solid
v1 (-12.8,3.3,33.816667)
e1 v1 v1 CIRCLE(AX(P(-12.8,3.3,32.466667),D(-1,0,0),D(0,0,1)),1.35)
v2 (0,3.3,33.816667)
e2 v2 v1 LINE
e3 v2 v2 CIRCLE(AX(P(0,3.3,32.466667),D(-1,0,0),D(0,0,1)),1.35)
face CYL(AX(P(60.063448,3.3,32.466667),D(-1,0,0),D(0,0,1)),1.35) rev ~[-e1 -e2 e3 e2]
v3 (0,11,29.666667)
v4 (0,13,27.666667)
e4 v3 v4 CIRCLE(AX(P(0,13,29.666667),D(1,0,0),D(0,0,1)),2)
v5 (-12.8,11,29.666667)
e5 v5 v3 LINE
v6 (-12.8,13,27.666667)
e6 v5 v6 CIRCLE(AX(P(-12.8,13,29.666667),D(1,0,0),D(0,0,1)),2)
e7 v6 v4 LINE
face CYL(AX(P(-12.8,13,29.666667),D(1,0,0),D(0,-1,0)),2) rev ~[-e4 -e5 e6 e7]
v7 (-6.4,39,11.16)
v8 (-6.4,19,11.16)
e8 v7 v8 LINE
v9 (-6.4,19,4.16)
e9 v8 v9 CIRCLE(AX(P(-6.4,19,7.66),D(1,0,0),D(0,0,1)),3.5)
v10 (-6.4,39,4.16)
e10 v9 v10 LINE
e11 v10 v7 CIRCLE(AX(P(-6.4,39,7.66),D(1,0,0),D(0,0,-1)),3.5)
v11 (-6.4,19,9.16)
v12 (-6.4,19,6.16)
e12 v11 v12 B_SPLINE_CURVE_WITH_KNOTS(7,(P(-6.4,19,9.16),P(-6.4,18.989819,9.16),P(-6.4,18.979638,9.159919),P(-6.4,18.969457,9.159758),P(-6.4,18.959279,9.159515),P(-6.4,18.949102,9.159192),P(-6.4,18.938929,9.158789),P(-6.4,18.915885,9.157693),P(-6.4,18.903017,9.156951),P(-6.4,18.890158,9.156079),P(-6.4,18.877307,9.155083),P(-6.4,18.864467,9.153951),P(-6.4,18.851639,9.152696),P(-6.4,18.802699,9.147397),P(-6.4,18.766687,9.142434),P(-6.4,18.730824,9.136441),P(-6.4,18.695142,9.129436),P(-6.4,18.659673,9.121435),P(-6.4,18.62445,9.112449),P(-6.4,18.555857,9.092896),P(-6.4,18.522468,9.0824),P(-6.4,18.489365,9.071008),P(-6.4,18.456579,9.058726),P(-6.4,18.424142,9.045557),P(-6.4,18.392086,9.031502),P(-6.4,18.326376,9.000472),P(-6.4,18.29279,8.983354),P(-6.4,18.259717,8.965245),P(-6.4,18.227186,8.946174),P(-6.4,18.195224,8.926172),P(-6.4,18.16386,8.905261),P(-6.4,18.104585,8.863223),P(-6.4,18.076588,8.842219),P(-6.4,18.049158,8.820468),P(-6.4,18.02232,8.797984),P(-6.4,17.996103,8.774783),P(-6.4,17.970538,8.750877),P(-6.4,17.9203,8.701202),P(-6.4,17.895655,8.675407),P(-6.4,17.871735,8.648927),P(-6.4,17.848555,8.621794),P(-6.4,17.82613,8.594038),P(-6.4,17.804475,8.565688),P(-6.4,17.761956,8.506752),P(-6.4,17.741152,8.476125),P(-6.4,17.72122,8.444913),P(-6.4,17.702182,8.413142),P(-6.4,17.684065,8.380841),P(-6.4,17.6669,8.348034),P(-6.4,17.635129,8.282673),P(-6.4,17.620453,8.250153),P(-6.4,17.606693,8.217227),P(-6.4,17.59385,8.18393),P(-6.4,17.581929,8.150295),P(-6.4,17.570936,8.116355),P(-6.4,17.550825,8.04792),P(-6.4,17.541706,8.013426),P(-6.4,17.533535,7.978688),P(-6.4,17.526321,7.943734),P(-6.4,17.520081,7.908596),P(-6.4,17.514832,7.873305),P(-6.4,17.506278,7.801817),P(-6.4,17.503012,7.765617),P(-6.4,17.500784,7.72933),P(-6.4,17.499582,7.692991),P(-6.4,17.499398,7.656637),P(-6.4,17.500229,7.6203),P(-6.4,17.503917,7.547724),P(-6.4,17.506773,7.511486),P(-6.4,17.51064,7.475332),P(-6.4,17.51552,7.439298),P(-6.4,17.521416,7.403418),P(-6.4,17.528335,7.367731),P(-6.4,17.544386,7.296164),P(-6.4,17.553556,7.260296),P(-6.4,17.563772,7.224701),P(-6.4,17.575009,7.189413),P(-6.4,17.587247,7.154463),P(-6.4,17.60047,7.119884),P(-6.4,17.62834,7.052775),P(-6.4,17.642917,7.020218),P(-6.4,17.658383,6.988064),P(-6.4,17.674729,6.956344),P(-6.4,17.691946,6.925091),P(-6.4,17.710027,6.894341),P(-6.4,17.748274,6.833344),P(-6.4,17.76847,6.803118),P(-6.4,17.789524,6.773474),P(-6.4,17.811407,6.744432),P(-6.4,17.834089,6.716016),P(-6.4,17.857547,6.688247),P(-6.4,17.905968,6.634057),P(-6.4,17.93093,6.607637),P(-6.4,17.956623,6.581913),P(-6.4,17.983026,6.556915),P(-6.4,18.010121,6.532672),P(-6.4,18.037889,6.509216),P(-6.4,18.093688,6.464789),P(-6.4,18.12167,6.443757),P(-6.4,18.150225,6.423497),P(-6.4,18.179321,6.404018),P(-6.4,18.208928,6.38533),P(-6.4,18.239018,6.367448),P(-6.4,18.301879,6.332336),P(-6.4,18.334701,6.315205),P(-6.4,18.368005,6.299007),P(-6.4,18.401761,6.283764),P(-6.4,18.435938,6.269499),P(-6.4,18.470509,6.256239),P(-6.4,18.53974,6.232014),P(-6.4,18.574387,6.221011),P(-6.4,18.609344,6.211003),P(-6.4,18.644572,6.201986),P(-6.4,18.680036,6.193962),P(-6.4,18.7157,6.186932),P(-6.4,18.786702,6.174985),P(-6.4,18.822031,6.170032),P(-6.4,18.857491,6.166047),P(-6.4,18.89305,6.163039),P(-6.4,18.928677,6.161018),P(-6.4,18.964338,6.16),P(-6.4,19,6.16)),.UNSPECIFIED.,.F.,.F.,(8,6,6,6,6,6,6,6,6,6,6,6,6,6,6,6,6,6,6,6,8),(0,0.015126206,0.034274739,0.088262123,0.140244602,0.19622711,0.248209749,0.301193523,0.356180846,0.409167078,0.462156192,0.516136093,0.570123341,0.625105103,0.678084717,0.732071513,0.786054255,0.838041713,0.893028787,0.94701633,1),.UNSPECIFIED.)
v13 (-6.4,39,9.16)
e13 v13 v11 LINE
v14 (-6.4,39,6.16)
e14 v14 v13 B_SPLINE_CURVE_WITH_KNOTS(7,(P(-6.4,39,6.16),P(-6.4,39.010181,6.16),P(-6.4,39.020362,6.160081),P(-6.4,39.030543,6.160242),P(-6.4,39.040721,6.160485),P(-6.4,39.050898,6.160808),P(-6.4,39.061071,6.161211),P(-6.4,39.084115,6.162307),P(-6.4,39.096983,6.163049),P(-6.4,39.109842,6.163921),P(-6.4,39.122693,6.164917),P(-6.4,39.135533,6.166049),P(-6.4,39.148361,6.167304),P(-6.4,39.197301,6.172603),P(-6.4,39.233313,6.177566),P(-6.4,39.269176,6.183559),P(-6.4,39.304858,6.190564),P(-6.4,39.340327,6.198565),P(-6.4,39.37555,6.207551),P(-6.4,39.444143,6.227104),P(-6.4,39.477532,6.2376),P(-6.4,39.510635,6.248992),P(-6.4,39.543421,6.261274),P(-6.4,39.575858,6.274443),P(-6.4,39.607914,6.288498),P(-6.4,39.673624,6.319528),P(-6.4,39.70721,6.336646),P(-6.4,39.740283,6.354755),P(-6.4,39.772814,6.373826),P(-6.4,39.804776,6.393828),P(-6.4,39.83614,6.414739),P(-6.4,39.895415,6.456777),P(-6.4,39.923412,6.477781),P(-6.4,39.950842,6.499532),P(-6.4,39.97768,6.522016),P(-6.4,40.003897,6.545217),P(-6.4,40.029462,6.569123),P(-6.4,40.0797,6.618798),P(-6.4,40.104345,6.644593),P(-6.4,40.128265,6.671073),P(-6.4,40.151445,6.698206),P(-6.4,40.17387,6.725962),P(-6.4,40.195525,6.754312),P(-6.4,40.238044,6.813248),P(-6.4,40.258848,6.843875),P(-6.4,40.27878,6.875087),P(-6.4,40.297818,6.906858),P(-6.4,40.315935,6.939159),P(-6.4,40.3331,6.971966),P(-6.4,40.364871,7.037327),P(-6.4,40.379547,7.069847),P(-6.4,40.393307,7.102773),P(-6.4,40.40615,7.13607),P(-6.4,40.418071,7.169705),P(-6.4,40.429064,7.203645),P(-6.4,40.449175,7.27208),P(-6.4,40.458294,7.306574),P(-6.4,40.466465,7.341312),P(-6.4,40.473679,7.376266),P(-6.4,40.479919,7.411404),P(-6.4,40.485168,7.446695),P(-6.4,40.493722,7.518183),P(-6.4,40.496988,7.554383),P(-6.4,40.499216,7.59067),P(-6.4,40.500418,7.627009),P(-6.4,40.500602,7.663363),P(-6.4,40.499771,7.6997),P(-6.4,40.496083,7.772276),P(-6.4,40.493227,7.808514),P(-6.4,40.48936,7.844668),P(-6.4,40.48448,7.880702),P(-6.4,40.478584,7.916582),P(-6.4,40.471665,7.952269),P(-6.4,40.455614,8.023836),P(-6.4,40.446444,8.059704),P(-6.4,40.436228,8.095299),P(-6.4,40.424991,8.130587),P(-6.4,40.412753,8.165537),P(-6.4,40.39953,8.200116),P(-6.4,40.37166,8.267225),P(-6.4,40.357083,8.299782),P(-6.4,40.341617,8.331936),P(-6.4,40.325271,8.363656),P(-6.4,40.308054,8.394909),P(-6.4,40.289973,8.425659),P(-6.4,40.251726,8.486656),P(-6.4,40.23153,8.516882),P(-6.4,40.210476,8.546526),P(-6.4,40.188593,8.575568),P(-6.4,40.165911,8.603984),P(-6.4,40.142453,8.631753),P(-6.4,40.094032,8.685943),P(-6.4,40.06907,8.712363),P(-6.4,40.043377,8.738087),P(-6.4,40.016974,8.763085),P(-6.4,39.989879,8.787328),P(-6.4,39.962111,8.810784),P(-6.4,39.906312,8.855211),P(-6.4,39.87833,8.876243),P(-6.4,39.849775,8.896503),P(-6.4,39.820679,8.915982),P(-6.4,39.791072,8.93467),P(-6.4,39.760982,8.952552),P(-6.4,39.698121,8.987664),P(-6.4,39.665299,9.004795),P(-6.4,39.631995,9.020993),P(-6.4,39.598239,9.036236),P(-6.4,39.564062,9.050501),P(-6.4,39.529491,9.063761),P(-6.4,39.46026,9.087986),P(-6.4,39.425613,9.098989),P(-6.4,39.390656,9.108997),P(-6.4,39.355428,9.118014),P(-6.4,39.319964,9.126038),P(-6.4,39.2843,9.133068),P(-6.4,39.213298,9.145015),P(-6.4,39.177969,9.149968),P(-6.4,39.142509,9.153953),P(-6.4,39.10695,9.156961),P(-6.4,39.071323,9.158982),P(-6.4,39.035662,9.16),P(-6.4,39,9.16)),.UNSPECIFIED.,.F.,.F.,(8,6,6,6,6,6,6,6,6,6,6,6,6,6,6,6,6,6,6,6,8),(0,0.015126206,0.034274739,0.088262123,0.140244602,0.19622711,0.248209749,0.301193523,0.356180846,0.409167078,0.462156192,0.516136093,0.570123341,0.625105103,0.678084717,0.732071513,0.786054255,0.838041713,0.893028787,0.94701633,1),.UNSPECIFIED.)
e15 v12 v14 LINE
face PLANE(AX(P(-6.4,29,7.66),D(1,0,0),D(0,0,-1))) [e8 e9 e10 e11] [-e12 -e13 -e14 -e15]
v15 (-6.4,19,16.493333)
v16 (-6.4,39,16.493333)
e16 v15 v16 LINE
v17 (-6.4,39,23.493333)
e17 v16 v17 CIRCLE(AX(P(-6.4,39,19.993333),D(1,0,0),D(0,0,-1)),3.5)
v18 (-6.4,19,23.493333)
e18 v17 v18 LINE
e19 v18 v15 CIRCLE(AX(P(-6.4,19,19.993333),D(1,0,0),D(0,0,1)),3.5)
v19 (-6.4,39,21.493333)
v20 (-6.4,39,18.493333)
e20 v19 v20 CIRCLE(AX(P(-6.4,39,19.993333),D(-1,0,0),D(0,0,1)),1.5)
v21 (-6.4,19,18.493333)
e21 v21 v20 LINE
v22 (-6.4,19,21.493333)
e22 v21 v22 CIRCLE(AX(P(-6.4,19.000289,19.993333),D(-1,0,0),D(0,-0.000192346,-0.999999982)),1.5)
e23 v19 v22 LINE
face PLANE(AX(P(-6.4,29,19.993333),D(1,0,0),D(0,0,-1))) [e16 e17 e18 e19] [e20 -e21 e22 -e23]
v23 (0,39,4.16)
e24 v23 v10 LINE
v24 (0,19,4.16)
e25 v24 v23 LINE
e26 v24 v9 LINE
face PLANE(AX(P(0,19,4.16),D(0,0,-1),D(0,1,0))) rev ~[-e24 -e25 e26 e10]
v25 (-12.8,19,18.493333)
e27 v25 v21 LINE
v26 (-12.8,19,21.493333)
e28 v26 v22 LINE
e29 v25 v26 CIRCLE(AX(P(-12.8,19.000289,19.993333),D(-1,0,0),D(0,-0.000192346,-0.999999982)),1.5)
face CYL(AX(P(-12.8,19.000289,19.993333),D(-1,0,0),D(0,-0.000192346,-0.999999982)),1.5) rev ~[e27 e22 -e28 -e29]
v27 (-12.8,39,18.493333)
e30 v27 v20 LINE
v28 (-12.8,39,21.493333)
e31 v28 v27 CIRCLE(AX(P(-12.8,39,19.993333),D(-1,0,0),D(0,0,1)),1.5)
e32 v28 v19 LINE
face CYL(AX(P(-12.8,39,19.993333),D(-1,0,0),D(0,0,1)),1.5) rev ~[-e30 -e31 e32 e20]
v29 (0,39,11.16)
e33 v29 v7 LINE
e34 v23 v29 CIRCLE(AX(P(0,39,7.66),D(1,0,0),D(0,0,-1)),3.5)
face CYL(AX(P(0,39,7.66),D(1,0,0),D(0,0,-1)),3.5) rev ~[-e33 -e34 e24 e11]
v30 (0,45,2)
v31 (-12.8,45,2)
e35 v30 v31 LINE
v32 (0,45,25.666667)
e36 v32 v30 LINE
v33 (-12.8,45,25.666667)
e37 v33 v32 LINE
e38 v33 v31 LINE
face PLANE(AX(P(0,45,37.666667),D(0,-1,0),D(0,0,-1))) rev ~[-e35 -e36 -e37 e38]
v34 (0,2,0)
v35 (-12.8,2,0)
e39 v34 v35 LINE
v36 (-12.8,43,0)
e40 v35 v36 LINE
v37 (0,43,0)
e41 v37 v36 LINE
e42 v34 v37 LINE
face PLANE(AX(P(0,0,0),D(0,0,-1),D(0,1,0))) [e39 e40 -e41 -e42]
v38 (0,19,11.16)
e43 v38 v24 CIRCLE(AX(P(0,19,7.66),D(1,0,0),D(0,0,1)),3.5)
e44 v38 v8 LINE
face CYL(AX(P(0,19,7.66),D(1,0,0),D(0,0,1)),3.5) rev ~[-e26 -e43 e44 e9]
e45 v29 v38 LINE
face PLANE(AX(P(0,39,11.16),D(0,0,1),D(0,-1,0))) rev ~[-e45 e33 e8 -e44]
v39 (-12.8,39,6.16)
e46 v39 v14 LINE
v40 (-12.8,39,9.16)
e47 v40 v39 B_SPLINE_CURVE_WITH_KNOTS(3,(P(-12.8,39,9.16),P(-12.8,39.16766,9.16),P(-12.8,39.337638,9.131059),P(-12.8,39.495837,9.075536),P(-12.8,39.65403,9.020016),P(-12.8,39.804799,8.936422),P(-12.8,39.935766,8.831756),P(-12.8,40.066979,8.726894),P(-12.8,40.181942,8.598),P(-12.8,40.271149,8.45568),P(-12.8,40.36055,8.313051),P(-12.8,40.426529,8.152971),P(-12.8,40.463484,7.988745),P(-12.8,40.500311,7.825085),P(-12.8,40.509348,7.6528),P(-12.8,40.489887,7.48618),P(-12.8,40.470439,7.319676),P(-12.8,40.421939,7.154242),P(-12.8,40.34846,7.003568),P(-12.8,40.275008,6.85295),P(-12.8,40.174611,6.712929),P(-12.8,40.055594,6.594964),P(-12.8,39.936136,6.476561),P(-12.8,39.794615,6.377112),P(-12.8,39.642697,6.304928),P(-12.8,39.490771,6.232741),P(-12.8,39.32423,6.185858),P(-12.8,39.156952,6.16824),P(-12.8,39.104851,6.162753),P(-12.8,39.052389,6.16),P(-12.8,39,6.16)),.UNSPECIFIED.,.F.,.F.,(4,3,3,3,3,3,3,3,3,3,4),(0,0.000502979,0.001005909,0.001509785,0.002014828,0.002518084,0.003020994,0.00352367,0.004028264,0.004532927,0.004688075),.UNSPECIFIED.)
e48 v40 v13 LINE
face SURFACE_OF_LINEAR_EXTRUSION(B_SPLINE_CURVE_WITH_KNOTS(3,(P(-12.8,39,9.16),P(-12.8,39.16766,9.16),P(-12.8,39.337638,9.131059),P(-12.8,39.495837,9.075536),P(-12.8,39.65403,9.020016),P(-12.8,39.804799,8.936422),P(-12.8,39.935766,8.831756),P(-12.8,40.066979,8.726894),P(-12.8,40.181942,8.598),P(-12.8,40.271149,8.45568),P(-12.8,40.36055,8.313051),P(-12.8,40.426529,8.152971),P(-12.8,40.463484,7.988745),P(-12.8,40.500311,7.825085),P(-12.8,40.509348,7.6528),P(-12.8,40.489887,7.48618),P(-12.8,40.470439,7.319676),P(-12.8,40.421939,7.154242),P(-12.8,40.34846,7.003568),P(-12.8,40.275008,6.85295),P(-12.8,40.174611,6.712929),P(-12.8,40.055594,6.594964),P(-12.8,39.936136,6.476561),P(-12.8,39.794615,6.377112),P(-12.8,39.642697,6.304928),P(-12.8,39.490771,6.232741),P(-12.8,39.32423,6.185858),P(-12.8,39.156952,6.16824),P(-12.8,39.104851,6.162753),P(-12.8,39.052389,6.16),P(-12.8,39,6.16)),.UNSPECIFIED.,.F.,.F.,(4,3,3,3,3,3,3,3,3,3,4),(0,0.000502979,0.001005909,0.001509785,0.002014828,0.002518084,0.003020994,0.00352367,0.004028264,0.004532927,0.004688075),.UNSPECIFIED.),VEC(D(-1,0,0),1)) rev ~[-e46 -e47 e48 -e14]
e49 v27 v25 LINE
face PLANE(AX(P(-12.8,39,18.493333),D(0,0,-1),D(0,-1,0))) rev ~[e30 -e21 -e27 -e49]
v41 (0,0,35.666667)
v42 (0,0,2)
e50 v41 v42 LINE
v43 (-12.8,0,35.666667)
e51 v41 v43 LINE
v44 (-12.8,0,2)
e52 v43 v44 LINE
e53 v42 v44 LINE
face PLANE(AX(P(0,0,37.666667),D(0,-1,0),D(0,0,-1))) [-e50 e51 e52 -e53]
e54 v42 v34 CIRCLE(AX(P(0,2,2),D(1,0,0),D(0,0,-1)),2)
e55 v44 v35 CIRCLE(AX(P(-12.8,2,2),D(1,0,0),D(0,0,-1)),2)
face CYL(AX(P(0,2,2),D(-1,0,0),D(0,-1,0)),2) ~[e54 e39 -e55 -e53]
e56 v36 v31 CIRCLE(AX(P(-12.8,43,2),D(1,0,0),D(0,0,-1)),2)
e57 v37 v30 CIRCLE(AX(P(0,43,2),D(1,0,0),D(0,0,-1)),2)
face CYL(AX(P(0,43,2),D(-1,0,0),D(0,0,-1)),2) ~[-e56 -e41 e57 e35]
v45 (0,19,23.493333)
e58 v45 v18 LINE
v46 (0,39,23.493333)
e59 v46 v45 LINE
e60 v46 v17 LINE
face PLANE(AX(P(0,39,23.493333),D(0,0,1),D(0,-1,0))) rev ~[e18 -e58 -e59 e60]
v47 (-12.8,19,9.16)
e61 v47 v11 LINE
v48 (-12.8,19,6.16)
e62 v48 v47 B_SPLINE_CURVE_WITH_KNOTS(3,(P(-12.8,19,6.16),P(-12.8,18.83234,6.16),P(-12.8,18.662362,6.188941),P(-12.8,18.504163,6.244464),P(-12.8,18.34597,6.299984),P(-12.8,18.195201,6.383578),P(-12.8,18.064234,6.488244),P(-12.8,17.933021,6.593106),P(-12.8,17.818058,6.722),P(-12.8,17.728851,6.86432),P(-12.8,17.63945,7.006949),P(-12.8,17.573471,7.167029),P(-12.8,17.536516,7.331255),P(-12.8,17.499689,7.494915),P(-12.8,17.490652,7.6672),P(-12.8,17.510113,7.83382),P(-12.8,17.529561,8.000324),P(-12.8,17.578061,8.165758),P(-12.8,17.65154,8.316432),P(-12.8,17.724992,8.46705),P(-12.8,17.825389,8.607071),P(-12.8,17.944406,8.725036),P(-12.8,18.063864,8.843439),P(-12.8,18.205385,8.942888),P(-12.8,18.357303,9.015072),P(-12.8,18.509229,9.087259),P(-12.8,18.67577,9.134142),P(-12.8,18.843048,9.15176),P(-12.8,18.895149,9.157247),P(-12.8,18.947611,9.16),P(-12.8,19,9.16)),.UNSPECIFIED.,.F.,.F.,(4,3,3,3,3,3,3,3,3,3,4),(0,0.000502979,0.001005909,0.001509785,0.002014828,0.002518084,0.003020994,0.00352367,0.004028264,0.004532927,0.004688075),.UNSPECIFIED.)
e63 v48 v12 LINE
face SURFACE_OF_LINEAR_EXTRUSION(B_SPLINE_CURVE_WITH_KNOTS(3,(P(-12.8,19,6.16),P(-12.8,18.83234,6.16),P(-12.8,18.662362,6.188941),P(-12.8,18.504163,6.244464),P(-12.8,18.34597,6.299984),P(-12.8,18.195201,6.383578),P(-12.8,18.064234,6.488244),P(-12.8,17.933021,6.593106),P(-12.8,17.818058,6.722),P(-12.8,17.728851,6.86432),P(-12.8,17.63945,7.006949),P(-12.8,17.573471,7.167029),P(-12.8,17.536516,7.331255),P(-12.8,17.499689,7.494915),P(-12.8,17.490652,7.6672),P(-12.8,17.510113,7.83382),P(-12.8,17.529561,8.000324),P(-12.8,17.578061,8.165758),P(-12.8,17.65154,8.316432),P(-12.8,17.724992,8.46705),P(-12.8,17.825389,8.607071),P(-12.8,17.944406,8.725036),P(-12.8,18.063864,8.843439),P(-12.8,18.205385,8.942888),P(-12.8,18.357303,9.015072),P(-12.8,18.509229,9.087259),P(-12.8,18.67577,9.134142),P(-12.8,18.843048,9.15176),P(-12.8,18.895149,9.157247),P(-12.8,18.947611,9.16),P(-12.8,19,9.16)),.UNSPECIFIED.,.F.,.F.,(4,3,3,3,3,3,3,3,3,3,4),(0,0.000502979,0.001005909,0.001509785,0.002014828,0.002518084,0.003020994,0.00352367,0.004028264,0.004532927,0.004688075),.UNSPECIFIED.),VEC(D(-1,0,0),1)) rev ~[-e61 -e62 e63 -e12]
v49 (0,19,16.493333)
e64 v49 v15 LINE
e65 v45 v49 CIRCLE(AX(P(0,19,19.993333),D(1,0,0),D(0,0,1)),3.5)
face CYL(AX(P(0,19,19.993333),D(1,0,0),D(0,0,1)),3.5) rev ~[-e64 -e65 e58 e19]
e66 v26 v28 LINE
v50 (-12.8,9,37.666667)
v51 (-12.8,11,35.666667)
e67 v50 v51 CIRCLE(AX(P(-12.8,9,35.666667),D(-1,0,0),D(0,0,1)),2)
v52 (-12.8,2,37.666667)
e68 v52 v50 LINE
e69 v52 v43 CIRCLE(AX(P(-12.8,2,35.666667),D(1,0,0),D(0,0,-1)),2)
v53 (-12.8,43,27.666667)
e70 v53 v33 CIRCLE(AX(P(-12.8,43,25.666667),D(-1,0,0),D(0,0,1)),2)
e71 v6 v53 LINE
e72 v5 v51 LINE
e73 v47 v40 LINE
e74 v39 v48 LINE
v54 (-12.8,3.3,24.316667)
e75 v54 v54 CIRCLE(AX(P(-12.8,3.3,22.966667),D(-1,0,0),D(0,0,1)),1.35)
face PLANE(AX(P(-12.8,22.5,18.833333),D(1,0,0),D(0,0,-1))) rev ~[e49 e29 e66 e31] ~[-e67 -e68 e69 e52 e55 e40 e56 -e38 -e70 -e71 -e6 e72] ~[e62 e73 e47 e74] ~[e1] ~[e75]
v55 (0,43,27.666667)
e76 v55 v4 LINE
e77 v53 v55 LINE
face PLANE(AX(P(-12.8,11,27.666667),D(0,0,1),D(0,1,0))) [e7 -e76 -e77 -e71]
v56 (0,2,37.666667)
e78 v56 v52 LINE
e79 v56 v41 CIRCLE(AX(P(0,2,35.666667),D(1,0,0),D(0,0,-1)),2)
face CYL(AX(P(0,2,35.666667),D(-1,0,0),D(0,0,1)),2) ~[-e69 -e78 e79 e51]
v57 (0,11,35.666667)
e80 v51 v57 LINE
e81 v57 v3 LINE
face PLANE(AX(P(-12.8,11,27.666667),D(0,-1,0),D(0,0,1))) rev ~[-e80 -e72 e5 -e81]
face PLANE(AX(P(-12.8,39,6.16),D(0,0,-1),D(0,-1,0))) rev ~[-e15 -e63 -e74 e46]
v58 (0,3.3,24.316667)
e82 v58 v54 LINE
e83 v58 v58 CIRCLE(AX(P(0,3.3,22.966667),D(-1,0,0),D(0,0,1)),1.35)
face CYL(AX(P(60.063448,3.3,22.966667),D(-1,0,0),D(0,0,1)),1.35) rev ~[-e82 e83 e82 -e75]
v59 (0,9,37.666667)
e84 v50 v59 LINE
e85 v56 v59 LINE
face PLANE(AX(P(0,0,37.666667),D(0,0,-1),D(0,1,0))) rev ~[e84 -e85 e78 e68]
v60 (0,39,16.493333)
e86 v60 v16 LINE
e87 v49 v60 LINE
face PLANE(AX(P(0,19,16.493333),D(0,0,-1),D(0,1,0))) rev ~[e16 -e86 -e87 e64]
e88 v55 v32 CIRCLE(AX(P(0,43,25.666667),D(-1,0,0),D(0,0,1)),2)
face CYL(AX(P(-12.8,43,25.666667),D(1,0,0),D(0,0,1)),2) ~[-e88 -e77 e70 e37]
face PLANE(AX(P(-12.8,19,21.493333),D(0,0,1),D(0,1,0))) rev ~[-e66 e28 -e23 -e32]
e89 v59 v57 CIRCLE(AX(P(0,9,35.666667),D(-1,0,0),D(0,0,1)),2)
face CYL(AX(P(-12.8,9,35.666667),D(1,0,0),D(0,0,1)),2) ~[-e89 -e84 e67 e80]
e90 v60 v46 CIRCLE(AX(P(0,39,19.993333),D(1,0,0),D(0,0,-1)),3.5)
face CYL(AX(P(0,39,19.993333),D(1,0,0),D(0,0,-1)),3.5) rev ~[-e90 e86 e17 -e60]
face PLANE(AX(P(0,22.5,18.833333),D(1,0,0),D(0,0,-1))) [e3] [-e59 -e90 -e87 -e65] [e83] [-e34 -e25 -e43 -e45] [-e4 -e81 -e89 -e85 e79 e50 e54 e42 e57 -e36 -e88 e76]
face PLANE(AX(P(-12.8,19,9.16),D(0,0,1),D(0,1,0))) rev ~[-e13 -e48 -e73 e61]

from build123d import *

# Parameters (mm, degrees)
SKETCH1_W                  = 37.6666666
SKETCH1_H                  = 45
BOSS_EXTRUDE1_DEPTH        = 12.8
SKETCH2_W                  = 10
SKETCH2_H                  = 34
CUT_EXTRUDE1_DEPTH         = 61.063447893
CUT_EXTRUDE2_DEPTH         = 6.4
CUT_EXTRUDE3_DEPTH         = 61.063447893
CUT_EXTRUDE4_DEPTH         = 6.4
CUT_EXTRUDE5_DEPTH         = 61.063447893
F_2_7_2_7_DIAMETER_HOLE1_D = 2.7
FILLET1_R                  = 2


with BuildPart() as part:
    # Sketch1 → Boss-Extrude1 (new body)
    with BuildSketch(Plane(origin=(0, 0, 0), x_dir=(0, 0, -1), z_dir=(1, 0, 0))):
        with Locations((-18.8333333, 22.5)):
            Rectangle(SKETCH1_W, SKETCH1_H)
    extrude(amount=-BOSS_EXTRUDE1_DEPTH)

    # Sketch2 → Cut-Extrude1 (cut, through all)
    with BuildSketch(Plane.ZY.offset(12.8)):
        with Locations((32.6666666, 28)):
            Rectangle(SKETCH2_W, SKETCH2_H)
    extrude(amount=-CUT_EXTRUDE1_DEPTH, mode=Mode.SUBTRACT)

    # Sketch3 → Cut-Extrude2 (cut)
    with BuildSketch(Plane(origin=(0, 0, 0), x_dir=(0, 0, -1), z_dir=(1, 0, 0))):
        with BuildLine():
            Line((-23.4933333, 39), (-23.4933333, 19))
            ThreePointArc((-23.4933333, 19), (-19.9933333, 15.5), (-16.4933333, 19))
            Line((-16.4933333, 19), (-16.4933333, 39))
            ThreePointArc((-16.4933333, 39), (-19.9933333, 42.5), (-23.4933333, 39))
        make_face()
    extrude(amount=-CUT_EXTRUDE2_DEPTH, mode=Mode.SUBTRACT)

    # Sketch4 → Cut-Extrude3 (cut, through all)
    with BuildSketch(Plane.ZY.offset(12.8)):
        with BuildLine():
            Line((21.4933333, 19), (21.4933333, 39))
            ThreePointArc((21.4933333, 39), (19.9933333, 40.5), (18.4933333, 39))
            Line((18.4933333, 39), (18.4933333, 19))
            ThreePointArc((18.4933333, 19), (19.9933333, 17.500288491), (21.4933333, 19))
        make_face()
    extrude(amount=-CUT_EXTRUDE3_DEPTH, mode=Mode.SUBTRACT)

    # Sketch5 → Cut-Extrude4 (cut)
    with BuildSketch(Plane(origin=(0, 0, 0), x_dir=(0, 0, -1), z_dir=(1, 0, 0))):
        with BuildLine():
            Line((-11.16, 39), (-11.16, 19))
            ThreePointArc((-11.16, 19), (-7.66, 15.5), (-4.16, 19))
            Line((-4.16, 19), (-4.16, 39))
            ThreePointArc((-4.16, 39), (-7.66, 42.5), (-11.16, 39))
        make_face()
    extrude(amount=-CUT_EXTRUDE4_DEPTH, mode=Mode.SUBTRACT)

    # Sketch6 → Cut-Extrude5 (cut, through all)
    with BuildSketch(Plane.ZY.offset(12.8)):
        with BuildLine():
            Line((6.16, 39), (6.16, 19))
            add(Edge.make_bspline(
                [(6.16, 19), (6.16, 18.832340191), (6.188940738, 18.662362459), (6.244463512, 18.504163113), (6.299983926, 18.345970491), (6.383577698, 18.195200889), (6.488243805, 18.06423361), (6.593105783, 17.93302124), (6.722000277, 17.818058166), (6.864319793, 17.728851239), (7.006949165, 17.639450093), (7.167029387, 17.573470631), (7.331255049, 17.536516135), (7.494915324, 17.499688864), (7.667199859, 17.490652088), (7.833819766, 17.510113335), (8.000323921, 17.529561063), (8.165758477, 17.578061145), (8.316432476, 17.651540351), (8.467050084, 17.724992056), (8.60707111, 17.825389016), (8.725036325, 17.944405925), (8.843438847, 18.063864039), (8.942888294, 18.205385466), (9.015071831, 18.357302993), (9.087259254, 18.5092287), (9.134141581, 18.67576982), (9.151759986, 18.843048139), (9.157247483, 18.895149292), (9.16, 18.947610662), (9.16, 19)],
                knots=[0, 0, 0, 0, 0.000502979, 0.000502979, 0.000502979, 0.001005909, 0.001005909, 0.001005909, 0.001509785, 0.001509785, 0.001509785, 0.002014828, 0.002014828, 0.002014828, 0.002518084, 0.002518084, 0.002518084, 0.003020994, 0.003020994, 0.003020994, 0.00352367, 0.00352367, 0.00352367, 0.004028264, 0.004028264, 0.004028264, 0.004532927, 0.004532927, 0.004532927, 0.004688075, 0.004688075, 0.004688075, 0.004688075], degree=3))
            Line((9.16, 19), (9.16, 39))
            add(Edge.make_bspline(
                [(9.16, 39), (9.16, 39.167659809), (9.131059262, 39.337637541), (9.075536488, 39.495836887), (9.020016074, 39.654029509), (8.936422302, 39.804799111), (8.831756195, 39.93576639), (8.726894217, 40.06697876), (8.597999723, 40.181941834), (8.455680207, 40.271148761), (8.313050835, 40.360549907), (8.152970613, 40.426529369), (7.988744951, 40.463483865), (7.825084676, 40.500311136), (7.652800141, 40.509347912), (7.486180234, 40.489886665), (7.319676079, 40.470438937), (7.154241523, 40.421938855), (7.003567524, 40.348459649), (6.852949916, 40.275007944), (6.71292889, 40.174610984), (6.594963675, 40.055594075), (6.476561153, 39.936135961), (6.377111706, 39.794614534), (6.304928169, 39.642697007), (6.232740746, 39.4907713), (6.185858419, 39.32423018), (6.168240014, 39.156951861), (6.162752517, 39.104850708), (6.16, 39.052389338), (6.16, 39)],
                knots=[0, 0, 0, 0, 0.000502979, 0.000502979, 0.000502979, 0.001005909, 0.001005909, 0.001005909, 0.001509785, 0.001509785, 0.001509785, 0.002014828, 0.002014828, 0.002014828, 0.002518084, 0.002518084, 0.002518084, 0.003020994, 0.003020994, 0.003020994, 0.00352367, 0.00352367, 0.00352367, 0.004028264, 0.004028264, 0.004028264, 0.004532927, 0.004532927, 0.004532927, 0.004688075, 0.004688075, 0.004688075, 0.004688075], degree=3))
        make_face()
    extrude(amount=-CUT_EXTRUDE5_DEPTH, mode=Mode.SUBTRACT)

    # Ø2.7 (2.7) Diameter Hole1 (through all)
    with Locations(Plane(origin=(0, 0, 0), x_dir=(0, 0, -1), z_dir=(1, 0, 0))):
        with Locations((-22.9666666, 3.3), (-32.4666666, 3.3)):
            Hole(F_2_7_2_7_DIAMETER_HOLE1_D / 2)

    # Fillet1
    fillet1_edges = [part.edges().sort_by_distance(p)[0] for p in [
        (-6.4, 45, 27.6666666),
        (-6.4, 11, 37.6666666),
        (-6.4, 11, 27.6666666),
        (-6.4, 0, 37.6666666),
        (-6.4, 45, 0),
        (-6.4, 0, 0),
    ]]
    fillet(fillet1_edges, radius=FILLET1_R)


solid = part.part
